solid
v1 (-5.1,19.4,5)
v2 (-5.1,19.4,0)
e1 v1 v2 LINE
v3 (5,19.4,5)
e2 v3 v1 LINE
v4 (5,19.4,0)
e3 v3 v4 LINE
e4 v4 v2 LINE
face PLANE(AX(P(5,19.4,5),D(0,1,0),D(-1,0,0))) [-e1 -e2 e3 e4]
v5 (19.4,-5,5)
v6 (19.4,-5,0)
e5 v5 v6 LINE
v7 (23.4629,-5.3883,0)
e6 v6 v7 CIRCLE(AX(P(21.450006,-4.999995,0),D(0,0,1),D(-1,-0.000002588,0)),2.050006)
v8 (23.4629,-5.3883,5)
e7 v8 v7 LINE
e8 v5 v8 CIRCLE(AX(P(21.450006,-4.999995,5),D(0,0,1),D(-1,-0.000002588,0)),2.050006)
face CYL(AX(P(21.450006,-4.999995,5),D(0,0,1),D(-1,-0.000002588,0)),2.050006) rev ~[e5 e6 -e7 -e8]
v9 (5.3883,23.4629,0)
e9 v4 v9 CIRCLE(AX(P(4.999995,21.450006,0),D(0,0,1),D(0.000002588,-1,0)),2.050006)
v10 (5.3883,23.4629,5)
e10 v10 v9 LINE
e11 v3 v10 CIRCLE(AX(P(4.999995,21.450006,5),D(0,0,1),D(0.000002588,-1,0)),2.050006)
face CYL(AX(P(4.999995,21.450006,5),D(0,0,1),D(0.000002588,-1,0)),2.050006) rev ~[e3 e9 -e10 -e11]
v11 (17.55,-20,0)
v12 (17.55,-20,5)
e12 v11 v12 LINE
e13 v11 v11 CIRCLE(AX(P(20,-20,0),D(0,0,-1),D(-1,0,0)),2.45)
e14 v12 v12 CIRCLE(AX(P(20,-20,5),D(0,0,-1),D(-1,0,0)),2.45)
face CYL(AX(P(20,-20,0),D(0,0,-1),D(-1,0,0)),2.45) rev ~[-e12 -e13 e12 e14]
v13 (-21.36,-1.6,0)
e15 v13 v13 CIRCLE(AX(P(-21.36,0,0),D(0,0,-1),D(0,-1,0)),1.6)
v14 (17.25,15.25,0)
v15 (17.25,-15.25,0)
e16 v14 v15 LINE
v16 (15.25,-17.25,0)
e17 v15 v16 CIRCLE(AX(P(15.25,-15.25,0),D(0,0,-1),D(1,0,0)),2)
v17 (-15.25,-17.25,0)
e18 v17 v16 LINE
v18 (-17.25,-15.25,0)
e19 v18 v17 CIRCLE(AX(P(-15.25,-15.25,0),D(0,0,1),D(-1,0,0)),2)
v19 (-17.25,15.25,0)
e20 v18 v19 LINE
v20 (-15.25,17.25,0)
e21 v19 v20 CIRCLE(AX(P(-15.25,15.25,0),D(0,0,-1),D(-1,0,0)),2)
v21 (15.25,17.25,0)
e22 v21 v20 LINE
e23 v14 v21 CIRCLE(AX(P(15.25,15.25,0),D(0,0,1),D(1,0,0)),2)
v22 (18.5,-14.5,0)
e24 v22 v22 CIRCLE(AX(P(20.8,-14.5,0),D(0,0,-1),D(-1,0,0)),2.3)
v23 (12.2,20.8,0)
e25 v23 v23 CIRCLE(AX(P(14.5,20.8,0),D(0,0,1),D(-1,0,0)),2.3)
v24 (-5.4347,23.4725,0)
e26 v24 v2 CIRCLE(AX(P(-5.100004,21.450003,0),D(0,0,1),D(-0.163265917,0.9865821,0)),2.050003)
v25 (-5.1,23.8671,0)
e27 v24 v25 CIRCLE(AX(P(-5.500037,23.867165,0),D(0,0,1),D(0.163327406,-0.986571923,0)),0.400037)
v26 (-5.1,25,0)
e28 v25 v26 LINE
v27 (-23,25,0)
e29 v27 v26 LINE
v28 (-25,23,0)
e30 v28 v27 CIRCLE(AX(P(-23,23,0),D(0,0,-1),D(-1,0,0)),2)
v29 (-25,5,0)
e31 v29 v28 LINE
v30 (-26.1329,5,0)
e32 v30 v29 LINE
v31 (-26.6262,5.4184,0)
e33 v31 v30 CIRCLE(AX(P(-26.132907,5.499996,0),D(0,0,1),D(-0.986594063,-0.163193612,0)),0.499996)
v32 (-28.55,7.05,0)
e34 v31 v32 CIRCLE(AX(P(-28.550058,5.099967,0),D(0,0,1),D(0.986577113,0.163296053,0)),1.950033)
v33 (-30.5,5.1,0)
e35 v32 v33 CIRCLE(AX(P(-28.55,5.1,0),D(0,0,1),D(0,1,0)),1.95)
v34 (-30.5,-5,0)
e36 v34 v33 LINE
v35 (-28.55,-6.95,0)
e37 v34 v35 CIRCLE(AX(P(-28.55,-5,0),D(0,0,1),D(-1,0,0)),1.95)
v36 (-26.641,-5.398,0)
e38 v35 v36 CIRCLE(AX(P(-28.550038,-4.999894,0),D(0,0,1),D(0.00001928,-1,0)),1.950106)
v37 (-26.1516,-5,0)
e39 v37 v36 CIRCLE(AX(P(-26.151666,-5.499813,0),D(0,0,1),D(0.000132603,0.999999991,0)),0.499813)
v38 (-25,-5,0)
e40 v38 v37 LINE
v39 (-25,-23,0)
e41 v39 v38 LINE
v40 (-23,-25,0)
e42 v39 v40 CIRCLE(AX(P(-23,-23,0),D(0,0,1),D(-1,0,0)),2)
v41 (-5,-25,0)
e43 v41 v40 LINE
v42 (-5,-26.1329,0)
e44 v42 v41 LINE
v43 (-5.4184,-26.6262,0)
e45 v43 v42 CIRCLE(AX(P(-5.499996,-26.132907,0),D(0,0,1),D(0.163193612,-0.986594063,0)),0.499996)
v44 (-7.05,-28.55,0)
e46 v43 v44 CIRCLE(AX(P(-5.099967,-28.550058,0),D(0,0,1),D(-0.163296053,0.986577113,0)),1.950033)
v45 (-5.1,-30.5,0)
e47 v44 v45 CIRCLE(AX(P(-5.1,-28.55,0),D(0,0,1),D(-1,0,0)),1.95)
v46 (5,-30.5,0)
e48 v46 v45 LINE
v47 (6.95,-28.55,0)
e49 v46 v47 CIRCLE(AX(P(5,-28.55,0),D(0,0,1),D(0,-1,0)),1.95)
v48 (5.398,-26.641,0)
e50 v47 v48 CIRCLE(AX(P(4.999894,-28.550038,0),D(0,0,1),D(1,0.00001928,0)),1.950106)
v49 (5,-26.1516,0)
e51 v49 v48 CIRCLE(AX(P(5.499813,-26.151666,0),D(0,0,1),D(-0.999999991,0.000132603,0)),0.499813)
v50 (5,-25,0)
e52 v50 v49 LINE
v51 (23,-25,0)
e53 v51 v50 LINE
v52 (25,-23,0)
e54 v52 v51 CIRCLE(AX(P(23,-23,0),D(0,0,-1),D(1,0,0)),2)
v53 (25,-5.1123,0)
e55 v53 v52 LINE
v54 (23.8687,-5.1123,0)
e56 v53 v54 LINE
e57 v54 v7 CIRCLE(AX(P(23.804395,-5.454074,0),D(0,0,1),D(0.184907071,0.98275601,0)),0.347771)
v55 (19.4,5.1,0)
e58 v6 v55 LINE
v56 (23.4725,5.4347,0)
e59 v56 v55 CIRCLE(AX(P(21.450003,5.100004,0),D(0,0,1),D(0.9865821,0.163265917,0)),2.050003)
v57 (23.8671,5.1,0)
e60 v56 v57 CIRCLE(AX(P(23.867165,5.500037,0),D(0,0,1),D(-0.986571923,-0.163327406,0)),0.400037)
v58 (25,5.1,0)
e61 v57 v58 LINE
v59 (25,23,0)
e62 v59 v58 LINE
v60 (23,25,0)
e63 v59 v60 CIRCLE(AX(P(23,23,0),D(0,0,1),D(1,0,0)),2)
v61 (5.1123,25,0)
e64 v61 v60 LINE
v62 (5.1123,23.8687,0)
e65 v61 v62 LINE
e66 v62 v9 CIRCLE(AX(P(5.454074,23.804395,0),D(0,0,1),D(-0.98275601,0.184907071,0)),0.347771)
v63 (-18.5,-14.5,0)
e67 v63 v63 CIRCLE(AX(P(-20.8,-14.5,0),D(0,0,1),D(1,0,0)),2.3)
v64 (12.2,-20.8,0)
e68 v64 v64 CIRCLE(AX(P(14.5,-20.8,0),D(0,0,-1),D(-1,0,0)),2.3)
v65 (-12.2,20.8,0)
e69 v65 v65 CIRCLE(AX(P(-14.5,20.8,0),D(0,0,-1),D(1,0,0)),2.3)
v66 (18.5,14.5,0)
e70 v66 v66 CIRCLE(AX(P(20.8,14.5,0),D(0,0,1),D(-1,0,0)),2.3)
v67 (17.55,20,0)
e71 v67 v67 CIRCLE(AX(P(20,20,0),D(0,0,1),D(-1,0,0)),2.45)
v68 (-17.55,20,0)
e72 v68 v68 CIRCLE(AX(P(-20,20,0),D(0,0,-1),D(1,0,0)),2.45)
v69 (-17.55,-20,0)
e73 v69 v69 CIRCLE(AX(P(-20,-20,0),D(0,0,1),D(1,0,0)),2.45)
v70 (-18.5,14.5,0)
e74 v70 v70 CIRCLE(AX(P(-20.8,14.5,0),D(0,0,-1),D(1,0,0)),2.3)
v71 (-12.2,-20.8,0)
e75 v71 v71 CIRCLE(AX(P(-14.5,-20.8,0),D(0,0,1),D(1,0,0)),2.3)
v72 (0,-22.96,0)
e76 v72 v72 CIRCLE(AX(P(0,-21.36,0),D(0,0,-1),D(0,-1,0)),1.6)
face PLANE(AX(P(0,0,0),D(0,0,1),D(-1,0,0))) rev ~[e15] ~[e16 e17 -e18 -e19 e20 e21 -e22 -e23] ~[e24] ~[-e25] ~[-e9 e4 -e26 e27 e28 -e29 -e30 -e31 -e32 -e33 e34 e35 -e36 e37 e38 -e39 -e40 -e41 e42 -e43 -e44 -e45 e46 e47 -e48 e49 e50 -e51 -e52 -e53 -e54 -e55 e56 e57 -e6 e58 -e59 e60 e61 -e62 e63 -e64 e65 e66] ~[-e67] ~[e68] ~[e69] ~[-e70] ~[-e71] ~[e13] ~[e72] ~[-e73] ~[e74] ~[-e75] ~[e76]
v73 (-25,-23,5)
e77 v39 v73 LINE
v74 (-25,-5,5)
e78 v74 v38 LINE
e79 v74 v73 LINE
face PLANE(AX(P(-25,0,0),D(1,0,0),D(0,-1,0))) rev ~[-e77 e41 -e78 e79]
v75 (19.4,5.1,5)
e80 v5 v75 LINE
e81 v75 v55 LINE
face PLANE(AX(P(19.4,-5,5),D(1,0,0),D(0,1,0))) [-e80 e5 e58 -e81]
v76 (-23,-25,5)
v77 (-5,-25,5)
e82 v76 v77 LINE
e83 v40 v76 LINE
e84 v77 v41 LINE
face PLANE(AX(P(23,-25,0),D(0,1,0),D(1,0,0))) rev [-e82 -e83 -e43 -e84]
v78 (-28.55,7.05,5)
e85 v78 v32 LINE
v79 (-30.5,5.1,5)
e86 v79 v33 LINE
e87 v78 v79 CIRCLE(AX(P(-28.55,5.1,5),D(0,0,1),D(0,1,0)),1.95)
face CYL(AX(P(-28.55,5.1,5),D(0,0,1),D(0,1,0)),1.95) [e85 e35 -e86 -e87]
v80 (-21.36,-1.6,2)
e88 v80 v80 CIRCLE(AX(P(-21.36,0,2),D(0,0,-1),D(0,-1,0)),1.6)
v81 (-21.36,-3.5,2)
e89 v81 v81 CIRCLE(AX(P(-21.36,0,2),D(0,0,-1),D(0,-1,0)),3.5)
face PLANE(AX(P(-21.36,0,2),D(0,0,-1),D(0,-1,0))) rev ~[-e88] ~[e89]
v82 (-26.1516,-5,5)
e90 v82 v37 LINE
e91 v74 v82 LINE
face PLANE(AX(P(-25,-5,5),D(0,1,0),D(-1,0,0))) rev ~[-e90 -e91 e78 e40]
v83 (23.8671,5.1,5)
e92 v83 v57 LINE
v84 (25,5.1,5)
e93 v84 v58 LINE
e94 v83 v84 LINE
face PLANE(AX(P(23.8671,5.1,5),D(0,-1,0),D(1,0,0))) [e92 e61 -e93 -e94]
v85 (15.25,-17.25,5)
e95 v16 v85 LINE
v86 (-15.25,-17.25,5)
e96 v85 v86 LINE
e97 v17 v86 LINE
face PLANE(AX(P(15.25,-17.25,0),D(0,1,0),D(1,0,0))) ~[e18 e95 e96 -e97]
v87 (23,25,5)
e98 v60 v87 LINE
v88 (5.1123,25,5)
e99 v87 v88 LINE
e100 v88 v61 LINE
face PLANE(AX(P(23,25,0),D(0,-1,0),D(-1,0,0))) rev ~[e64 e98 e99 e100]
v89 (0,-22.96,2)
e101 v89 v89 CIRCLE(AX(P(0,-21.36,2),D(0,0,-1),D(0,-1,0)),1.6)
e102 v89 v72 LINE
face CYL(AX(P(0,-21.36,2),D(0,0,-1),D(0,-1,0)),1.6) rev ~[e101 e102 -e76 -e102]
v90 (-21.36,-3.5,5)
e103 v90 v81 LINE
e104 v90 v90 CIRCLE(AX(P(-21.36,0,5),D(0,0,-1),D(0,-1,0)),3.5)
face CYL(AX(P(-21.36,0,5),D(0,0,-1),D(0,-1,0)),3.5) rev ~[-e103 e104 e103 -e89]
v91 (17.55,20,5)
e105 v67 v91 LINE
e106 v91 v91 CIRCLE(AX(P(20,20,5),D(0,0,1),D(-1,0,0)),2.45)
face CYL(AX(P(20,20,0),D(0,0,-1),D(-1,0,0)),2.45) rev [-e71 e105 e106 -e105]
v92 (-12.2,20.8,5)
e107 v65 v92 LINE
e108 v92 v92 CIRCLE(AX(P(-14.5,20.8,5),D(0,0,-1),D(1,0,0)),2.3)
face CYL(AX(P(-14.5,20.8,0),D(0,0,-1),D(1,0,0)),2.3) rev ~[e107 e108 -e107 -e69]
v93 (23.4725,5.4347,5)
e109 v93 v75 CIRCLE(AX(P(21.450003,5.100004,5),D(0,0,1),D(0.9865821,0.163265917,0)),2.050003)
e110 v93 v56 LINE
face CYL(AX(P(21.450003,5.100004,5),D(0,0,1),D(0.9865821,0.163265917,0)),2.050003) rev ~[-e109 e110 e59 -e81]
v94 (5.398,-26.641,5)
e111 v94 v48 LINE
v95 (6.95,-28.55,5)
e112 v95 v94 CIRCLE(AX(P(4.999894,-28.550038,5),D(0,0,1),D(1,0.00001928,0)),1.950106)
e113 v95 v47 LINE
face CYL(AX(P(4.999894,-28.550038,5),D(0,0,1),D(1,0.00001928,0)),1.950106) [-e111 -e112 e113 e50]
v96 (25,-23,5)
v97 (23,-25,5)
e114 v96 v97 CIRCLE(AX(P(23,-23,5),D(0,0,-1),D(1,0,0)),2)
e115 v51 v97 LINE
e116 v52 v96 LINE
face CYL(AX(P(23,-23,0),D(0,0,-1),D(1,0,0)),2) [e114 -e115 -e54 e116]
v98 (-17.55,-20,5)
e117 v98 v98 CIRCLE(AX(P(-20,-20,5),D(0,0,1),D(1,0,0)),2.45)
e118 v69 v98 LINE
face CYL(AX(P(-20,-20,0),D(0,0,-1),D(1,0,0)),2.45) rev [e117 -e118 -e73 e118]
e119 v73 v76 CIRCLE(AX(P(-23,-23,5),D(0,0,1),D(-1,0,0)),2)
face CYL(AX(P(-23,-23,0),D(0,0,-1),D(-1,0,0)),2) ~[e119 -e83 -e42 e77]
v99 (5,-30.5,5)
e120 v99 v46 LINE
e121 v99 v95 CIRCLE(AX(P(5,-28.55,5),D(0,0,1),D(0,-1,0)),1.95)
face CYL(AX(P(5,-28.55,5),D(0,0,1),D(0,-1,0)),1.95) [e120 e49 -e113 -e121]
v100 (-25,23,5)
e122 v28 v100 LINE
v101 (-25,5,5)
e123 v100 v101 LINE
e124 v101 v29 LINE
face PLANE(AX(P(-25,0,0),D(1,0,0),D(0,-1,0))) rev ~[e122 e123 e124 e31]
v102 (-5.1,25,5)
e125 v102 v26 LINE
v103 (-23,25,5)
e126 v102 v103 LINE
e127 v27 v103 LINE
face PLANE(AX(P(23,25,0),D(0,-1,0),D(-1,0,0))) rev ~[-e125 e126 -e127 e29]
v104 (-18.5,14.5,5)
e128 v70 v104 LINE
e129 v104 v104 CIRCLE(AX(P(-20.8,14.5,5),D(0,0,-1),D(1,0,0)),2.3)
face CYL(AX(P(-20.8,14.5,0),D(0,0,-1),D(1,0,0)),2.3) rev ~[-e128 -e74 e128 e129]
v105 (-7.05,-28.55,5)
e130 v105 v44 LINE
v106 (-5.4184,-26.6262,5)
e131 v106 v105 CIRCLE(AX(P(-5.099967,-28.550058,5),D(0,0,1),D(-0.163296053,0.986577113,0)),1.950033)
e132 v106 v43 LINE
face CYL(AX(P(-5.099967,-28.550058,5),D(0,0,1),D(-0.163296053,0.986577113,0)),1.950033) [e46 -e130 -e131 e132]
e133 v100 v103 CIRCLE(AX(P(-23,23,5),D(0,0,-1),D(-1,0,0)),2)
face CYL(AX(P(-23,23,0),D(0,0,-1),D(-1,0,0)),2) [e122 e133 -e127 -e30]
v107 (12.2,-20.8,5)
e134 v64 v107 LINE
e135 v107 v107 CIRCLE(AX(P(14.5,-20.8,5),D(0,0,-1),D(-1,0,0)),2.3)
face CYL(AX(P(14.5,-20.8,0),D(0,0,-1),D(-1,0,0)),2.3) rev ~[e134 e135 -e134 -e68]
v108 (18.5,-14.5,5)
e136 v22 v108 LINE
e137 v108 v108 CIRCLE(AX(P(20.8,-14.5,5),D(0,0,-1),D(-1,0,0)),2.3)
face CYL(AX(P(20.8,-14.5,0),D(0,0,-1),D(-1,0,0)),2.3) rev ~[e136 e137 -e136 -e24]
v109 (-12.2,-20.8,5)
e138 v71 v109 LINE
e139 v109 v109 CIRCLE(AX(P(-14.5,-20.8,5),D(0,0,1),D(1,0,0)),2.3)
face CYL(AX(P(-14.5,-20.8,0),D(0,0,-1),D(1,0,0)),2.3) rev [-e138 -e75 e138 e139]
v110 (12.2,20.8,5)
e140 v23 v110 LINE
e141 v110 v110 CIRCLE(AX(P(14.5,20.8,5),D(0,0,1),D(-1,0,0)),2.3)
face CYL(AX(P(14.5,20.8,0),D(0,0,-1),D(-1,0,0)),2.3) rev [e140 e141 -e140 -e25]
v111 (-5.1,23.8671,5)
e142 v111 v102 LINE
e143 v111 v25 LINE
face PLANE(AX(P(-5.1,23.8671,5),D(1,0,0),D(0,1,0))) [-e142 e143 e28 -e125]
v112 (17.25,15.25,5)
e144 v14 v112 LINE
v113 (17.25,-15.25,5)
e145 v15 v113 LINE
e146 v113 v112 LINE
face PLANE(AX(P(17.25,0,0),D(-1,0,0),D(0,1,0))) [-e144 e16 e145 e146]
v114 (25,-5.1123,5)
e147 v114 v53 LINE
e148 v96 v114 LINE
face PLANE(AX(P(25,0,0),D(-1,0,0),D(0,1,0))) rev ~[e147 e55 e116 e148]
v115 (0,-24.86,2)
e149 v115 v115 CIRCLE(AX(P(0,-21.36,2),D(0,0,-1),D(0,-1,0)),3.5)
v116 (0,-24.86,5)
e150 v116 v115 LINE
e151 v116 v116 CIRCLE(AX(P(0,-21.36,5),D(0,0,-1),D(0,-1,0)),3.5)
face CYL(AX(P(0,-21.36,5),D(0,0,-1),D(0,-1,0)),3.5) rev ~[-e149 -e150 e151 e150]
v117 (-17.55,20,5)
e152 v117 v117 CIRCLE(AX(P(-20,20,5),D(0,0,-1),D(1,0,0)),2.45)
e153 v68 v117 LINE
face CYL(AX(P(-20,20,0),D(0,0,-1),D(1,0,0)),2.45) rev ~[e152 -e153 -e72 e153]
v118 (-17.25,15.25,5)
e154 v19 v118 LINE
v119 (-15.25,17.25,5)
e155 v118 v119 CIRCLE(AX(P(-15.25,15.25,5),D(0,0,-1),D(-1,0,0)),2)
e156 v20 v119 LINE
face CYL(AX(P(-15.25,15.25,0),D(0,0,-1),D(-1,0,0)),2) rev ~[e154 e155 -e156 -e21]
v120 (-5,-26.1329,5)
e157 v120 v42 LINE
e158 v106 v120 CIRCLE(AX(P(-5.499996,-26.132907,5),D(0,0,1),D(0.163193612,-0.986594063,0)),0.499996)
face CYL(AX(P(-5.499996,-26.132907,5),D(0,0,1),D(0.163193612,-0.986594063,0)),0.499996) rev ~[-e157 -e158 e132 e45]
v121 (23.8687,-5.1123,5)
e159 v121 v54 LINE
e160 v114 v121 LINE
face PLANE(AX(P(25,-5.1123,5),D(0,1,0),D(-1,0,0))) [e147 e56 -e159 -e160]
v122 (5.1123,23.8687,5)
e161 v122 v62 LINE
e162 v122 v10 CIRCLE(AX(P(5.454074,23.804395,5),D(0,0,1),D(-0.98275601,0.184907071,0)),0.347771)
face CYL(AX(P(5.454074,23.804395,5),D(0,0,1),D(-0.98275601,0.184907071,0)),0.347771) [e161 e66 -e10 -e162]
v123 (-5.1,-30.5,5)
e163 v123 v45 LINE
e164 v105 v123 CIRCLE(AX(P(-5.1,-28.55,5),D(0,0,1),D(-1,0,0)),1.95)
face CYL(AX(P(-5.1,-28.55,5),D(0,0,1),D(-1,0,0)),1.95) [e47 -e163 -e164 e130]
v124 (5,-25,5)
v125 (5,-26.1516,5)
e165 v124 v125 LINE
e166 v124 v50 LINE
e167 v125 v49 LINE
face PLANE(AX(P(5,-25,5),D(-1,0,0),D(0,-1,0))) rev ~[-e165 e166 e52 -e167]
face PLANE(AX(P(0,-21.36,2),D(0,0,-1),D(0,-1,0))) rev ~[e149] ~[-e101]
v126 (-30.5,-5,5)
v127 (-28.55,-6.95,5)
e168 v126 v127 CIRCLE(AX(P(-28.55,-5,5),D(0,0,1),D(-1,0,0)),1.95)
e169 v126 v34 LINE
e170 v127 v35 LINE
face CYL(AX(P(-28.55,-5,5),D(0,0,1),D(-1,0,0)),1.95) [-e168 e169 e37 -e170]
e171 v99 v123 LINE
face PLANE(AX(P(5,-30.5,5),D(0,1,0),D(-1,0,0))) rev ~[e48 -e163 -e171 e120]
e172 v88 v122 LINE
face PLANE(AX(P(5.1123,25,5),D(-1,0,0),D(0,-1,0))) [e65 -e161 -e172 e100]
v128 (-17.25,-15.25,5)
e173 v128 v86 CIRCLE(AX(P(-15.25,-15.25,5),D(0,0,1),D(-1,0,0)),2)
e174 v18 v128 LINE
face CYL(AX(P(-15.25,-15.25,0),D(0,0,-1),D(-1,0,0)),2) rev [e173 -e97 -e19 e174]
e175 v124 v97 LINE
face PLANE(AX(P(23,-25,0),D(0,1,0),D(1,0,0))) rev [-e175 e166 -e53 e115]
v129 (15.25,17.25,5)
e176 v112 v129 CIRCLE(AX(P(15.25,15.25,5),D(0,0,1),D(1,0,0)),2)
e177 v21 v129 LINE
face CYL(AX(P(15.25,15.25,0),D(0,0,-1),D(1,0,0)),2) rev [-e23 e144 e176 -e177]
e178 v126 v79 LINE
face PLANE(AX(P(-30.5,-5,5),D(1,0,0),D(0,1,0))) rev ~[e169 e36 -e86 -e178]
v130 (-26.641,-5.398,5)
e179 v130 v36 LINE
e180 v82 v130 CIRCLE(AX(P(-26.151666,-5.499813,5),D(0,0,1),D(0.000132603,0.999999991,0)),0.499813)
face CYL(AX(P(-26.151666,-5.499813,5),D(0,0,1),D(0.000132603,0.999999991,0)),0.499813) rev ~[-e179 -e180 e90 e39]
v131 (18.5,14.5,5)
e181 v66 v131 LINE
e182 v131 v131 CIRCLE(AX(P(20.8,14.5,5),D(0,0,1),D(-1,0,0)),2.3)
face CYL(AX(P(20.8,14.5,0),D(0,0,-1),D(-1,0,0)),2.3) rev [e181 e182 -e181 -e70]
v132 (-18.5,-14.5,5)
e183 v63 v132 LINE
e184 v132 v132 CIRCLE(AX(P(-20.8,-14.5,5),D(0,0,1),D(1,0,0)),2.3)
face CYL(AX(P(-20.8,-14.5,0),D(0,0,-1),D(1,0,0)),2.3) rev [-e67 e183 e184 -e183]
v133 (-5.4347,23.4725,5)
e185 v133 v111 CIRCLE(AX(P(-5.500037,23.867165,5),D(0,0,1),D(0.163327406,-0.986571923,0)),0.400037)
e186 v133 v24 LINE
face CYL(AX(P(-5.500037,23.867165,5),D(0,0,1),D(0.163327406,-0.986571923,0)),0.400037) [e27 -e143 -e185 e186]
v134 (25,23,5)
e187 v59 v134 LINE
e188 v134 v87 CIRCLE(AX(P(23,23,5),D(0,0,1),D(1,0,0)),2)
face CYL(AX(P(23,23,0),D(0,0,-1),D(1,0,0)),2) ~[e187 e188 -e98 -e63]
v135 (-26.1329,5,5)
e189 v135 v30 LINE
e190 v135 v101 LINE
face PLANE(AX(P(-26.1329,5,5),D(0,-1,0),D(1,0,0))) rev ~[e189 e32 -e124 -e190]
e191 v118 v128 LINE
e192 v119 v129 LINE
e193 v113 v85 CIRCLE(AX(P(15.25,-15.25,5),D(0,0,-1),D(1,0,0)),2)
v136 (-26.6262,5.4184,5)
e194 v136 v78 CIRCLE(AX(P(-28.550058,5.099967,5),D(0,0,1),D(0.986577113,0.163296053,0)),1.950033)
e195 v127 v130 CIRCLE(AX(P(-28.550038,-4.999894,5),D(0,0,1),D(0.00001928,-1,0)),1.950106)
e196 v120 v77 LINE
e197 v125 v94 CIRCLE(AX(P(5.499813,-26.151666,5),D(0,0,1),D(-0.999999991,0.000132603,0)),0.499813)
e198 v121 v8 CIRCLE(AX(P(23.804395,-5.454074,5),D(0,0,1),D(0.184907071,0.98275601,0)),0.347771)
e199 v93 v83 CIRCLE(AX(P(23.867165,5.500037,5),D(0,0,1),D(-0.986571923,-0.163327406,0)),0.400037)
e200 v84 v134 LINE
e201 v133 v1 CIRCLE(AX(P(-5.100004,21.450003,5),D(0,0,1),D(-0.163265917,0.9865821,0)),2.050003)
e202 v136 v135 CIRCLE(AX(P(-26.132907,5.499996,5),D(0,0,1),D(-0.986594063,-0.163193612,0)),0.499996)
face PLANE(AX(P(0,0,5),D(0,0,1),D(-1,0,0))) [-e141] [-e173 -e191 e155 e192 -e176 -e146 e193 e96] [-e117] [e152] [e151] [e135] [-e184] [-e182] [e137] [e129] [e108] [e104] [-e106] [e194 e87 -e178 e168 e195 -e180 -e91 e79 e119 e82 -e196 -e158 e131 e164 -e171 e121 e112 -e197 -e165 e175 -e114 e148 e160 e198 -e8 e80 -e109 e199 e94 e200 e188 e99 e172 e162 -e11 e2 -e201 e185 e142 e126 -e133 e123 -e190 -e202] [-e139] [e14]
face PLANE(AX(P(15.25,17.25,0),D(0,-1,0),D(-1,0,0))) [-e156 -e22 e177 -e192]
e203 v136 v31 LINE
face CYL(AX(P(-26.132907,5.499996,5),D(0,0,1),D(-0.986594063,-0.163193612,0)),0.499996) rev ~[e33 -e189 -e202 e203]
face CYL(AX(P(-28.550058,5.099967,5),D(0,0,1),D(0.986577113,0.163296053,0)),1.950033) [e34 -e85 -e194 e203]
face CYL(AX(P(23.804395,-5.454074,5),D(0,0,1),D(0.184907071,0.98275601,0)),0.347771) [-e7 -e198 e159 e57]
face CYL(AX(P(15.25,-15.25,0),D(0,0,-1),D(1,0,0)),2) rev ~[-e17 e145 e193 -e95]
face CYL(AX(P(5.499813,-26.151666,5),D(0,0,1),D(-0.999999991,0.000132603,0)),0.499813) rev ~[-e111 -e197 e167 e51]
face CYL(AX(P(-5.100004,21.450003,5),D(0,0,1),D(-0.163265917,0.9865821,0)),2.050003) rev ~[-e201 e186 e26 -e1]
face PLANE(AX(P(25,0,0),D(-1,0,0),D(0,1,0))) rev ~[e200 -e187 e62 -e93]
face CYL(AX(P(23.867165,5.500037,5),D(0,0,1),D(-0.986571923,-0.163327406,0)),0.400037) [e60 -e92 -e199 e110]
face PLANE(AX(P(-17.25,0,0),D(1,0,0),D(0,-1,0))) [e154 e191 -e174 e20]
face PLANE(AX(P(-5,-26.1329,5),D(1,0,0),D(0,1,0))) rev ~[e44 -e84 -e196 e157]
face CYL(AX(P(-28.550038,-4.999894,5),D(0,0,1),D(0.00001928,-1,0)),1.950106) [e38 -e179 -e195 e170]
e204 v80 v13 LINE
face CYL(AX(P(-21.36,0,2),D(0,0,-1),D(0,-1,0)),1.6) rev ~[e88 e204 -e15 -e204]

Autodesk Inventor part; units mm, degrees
ref_plane "YZ Plane" through (0, 0, 0) normal (1, 0, 0) x (0, 1, 0)
ref_plane "XZ Plane" through (0, 0, 0) normal (0, 1, 0) x (-1, 0, 0)
ref_plane "XY Plane" through (0, 0, 0) normal (0, 0, 1) x (1, 0, 0)
sketch "Skizze1" plane through (0, 0, 0) normal (0, 0, 1) x (1, 0, 0)
  line L0 (-17.25, 0) -> (-25, 0)
  line L1 (-25, 0) -> (-25, -23)
  line L2 (-23, -25) -> (0, -25)
  line L3 (0, -25) -> (0, -17.25)
  line L4 (-17.25, 0) -> (-17.25, -15.25)
  line L5 (-15.25, -17.25) -> (0, -17.25)
  arc A0 (-25, -23) -> (-23, -25) centre (-23, -23) ccw
  circle A1 centre (-20, -20) radius 2.45
  circle A2 centre (-20.8, -14.5) radius 2.3
  circle A3 centre (-14.5, -20.8) radius 2.3
  arc A4 (-17.25, -15.25) -> (-15.25, -17.25) centre (-15.25, -15.25) ccw
  circle A5 centre (-20, -20) radius 2.45
  circle A6 centre (-14.5, -20.8) radius 2.3
  circle A7 centre (-20.8, -14.5) radius 2.3
  line L6 (-41.8983, 0) -> (36.633, 0) construction
  line L7 (0, -35.5799) -> (0, 35.5799) construction
  point P0 (-25, -25)
  point P1 (-17.25, -17.25)
  dimension "d278" = 25
  dimension "d279" = 25
  dimension "d2" = 7.75
  dimension "d281" = 7.75
  dimension "d282" = 2
  dimension "d283" = 4.9
  dimension "d284" = 20
  dimension "d4" = 20
  dimension "d286" = 4.6
  dimension "d_hole" = 4.6
  dimension "d290" = 20.8
  dimension "d" = 20.8
  dimension "d292" = 2
  dimension "d313" = 6.3
  dimension "d314" = 6.3
  dimension "d330" = 0
  dimension "d331" = 0
  dimension "d332" = 0
extrude "Extrusion1" add sketch "Skizze1" along normal blind 5
mirror "Mirror6" about plane through (-17.25, 0, 0) normal (0, 1, 0) of "Extrusion1"
mirror "Mirror7" about plane through (0, -25, 0) normal (1, 0, 0) of "Extrusion1", "Mirror6"
sketch "Sketch26" plane through (0, 0, 5) normal (0, 0, 1) x (1, 0, 0)
  line L0 (23, 25) -> (-23, 25) projected
  arc A0 (-23, 25) -> (-25, 23) centre (-23, 23) ccw projected
  line L1 (-25, -23) -> (-25, 23) projected
  arc A1 (-25, -23) -> (-23, -25) centre (-23, -23) ccw projected
  line L2 (-23, -25) -> (23, -25) projected
  arc A2 (23, -25) -> (25, -23) centre (23, -23) ccw projected
  line L3 (25, 23) -> (25, -23) projected
  arc A3 (25, 23) -> (23, 25) centre (23, 23) ccw projected
  line L4 (15.25, 17.25) -> (-15.25, 17.25) projected
  arc A4 (17.25, 15.25) -> (15.25, 17.25) centre (15.25, 15.25) ccw projected
  line L5 (17.25, 15.25) -> (17.25, -15.25) projected
  arc A5 (15.25, -17.25) -> (17.25, -15.25) centre (15.25, -15.25) ccw projected
  line L6 (-15.25, -17.25) -> (15.25, -17.25) projected
  arc A6 (-17.25, -15.25) -> (-15.25, -17.25) centre (-15.25, -15.25) ccw projected
  line L7 (-17.25, -15.25) -> (-17.25, 15.25) projected
  arc A7 (-15.25, 17.25) -> (-17.25, 15.25) centre (-15.25, 15.25) ccw projected
  line L8 (-25, -23) -> (-25, 23) projected
  line L9 (-28.55, -6.95) -> (-28.55, -6.95)
  line L10 (-30.5, -5) -> (-30.5, 5.1)
  line L11 (-28.55, 7.05) -> (-28.55, 7.05)
  line L12 (-25, 7) -> (-25, -7)
  line L13 (-26.1329, 5) -> (-25, 5)
  line L14 (-25, 5) -> (-25, -5)
  line L15 (-25, -5) -> (-26.1516, -5)
  line L16 (-26.5, -5) -> (-25, 5) construction
  line L17 (-26.5, 5) -> (-25, -5) construction
  arc A8 (-30.5, -5) -> (-28.55, -6.95) centre (-28.55, -5) ccw
  arc A9 (-28.55, -6.95) -> (-26.641, -5.398) centre (-28.55, -5) ccw
  arc A10 (-28.55, 7.05) -> (-30.5, 5.1) centre (-28.55, 5.1) ccw
  arc A11 (-26.6262, 5.4184) -> (-28.55, 7.05) centre (-28.55, 5.1) ccw
  arc A12 (-26.1516, -5) -> (-26.641, -5.398) centre (-26.1516, -5.5) ccw
  arc A13 (-26.6262, 5.4184) -> (-26.1329, 5) centre (-26.1329, 5.5) ccw
  point P0 (0, 0)
  point P1 (-25.75, 0)
  point P2 (-25, 0)
  dimension "d293" = 5.5
  dimension "d294" = 14
  dimension "d296" = 10
  dimension "d297" = 1.5
  dimension "d300" = 1.95
  dimension "d301" = 0.5
  dimension "d357" = 5
extrude "Extrusion13" add sketch "Sketch26" against normal up to surface (5 mm away) contours L1 L15 A12 A9 A8 L10 A10 A11 A13 L13
sketch "Sketch28" plane through (0, 0, 5) normal (0, 0, 1) x (1, 0, 0)
  line L0 (-41.9326, 0) -> (36.8388, 0) construction
  line L1 (23, 25) -> (-23, 25) projected
  arc A0 (-23, 25) -> (-25, 23) centre (-23, 23) ccw projected
  line L2 (-25, 5) -> (-25, 23) projected
  line L3 (-26.1329, 5) -> (-25, 5) projected
  arc A1 (-26.6262, 5.4184) -> (-26.1329, 5) centre (-26.1329, 5.5) ccw projected
  arc A2 (-26.6262, 5.4184) -> (-30.5, 5.1) centre (-28.55, 5.1) ccw projected
  line L4 (-30.5, -5) -> (-30.5, 5.1) projected
  arc A3 (-30.5, -5) -> (-26.641, -5.398) centre (-28.55, -5) ccw projected
  arc A4 (-26.1516, -5) -> (-26.641, -5.398) centre (-26.1516, -5.5) ccw projected
  line L5 (-25, -5) -> (-26.1516, -5) projected
  line L6 (-25, -23) -> (-25, -5) projected
  arc A5 (-25, -23) -> (-23, -25) centre (-23, -23) ccw projected
  line L7 (-23, -25) -> (23, -25) projected
  arc A6 (23, -25) -> (25, -23) centre (23, -23) ccw projected
  line L8 (25, 23) -> (25, -23) projected
  arc A7 (25, 23) -> (23, 25) centre (23, 23) ccw projected
  circle A8 centre (20, 20) radius 2.45 projected
  circle A9 centre (14.5, 20.8) radius 2.3 projected
  circle A10 centre (20.8, 14.5) radius 2.3 projected
  circle A11 centre (20, -20) radius 2.45 projected
  circle A12 centre (14.5, -20.8) radius 2.3 projected
  circle A13 centre (20.8, -14.5) radius 2.3 projected
  circle A14 centre (-20, 20) radius 2.45 projected
  circle A15 centre (-14.5, 20.8) radius 2.3 projected
  circle A16 centre (-20.8, 14.5) radius 2.3 projected
  circle A17 centre (-20.8, -14.5) radius 2.3 projected
  circle A18 centre (-14.5, -20.8) radius 2.3 projected
  circle A19 centre (-20, -20) radius 2.45 projected
  line L9 (15.25, 17.25) -> (-15.25, 17.25) projected
  arc A20 (17.25, 15.25) -> (15.25, 17.25) centre (15.25, 15.25) ccw projected
  line L10 (17.25, 15.25) -> (17.25, -15.25) projected
  arc A21 (15.25, -17.25) -> (17.25, -15.25) centre (15.25, -15.25) ccw projected
  line L11 (-15.25, -17.25) -> (15.25, -17.25) projected
  arc A22 (-17.25, -15.25) -> (-15.25, -17.25) centre (-15.25, -15.25) ccw projected
  line L12 (-17.25, -15.25) -> (-17.25, 15.25) projected
  arc A23 (-15.25, 17.25) -> (-17.25, 15.25) centre (-15.25, 15.25) ccw projected
  line L13 (-25, 5) -> (-24.4142, 5)
  line L14 (-24.4142, 5) -> (-24.4142, -5)
  line L15 (-24.4142, -5) -> (-25, -5)
  line L16 (-25, -5) -> (-25, 5)
  line L17 (-26.1329, 5) -> (-25, 5) projected
  line L18 (-25, 5) -> (-26.1329, 5)
  line L19 (-30.5, -5) -> (-30.5, 5.1) projected
  line L20 (-30.5, 5.1) -> (-30.5, -5)
  line L21 (-25, -5) -> (-25, -23) projected
  line L22 (-25, -5) -> (-26.1516, -5)
  line L23 (-25, -5) -> (-26.1516, -5) projected
  arc A24 (-26.1516, -5) -> (-26.641, -5.398) centre (-26.1516, -5.5) ccw projected
  arc A25 (-26.1516, -5) -> (-26.641, -5.398) centre (-26.1516, -5.5) ccw
  arc A26 (-30.5, -5) -> (-26.641, -5.398) centre (-28.55, -5) ccw
  arc A27 (-26.6262, 5.4184) -> (-26.1329, 5) centre (-26.1329, 5.5) ccw projected
  arc A28 (-26.6262, 5.4184) -> (-30.5, 5.1) centre (-28.55, 5.1) ccw
  arc A29 (-26.6262, 5.4184) -> (-26.1329, 5) centre (-26.1329, 5.5) ccw
  line L24 (25, 5) -> (25.5858, 5)
  line L25 (25.5858, 5) -> (25.5858, -5)
  line L26 (25.5858, -5) -> (25, -5)
  line L27 (25, -5) -> (25, 5)
  line L28 (25, 5) -> (23.8671, 5)
  line L29 (19.5, 5.1) -> (19.5, -5)
  line L30 (25, -5) -> (23.8484, -5)
  arc A30 (23.8484, -5) -> (23.359, -5.398) centre (23.8484, -5.5) ccw
  arc A31 (19.5, -5) -> (23.359, -5.398) centre (21.45, -5) ccw
  arc A32 (23.3738, 5.4184) -> (19.5, 5.1) centre (21.45, 5.1) ccw
  arc A33 (23.3738, 5.4184) -> (23.8671, 5) centre (23.8671, 5.5) ccw
  line L31 (25, 23) -> (25, -23) projected
  arc A34 (19.4, -5) -> (23.4629, -5.3883) centre (21.45, -5) ccw
  line L32 (19.4, -5) -> (19.4, 5.1)
  arc A35 (23.4725, 5.4347) -> (19.4, 5.1) centre (21.45, 5.1) ccw
  arc A36 (23.4725, 5.4347) -> (23.8671, 5.1) centre (23.8671, 5.5) ccw
  line L33 (23.8671, 5.1) -> (25, 5.1)
  line L34 (25, 5.1) -> (25, -5.1123)
  line L35 (25, -23) -> (25, 23) projected
  arc A37 (23.8687, -5.1123) -> (23.4629, -5.3883) centre (23.8044, -5.4541) ccw
  line L36 (25, -5.1123) -> (23.8687, -5.1123)
  point P0 (25, -5.1123)
  dimension "d358" = 5.5
  dimension "d359" = 0.1
extrude "Extrusion14" cut sketch "Sketch28" against normal blind 10 contours L8 L28 A33 A32 L29 A31 A30 L30 L36 A37 A34 L32 A35 A36 L33 | L8 L30 A30 A31 L29 A32 A33 L28
pattern_circular "Circular Pattern6" count 2 over 90 about axis through (0, 0, 5) along (0, 0, 1) of "Extrusion14", "Extrusion13"
sketch "Sketch29" plane through (0, 0, 5) normal (0, 0, 1) x (1, 0, 0)
  line L0 (-5.1, 25) -> (-23, 25) projected
  arc A0 (-23, 25) -> (-25, 23) centre (-23, 23) ccw projected
  line L1 (-25, 5) -> (-25, 23) projected
  line L2 (-26.1329, 5) -> (-25, 5) projected
  arc A1 (-26.6262, 5.4184) -> (-26.1329, 5) centre (-26.1329, 5.5) ccw projected
  arc A2 (-26.6262, 5.4184) -> (-30.5, 5.1) centre (-28.55, 5.1) ccw projected
  line L3 (-30.5, -5) -> (-30.5, 5.1) projected
  arc A3 (-30.5, -5) -> (-26.641, -5.398) centre (-28.55, -5) ccw projected
  arc A4 (-26.1516, -5) -> (-26.641, -5.398) centre (-26.1516, -5.5) ccw projected
  line L4 (-25, -5) -> (-26.1516, -5) projected
  line L5 (-25, -23) -> (-25, -5) projected
  arc A5 (-25, -23) -> (-23, -25) centre (-23, -23) ccw projected
  line L6 (-23, -25) -> (-5, -25) projected
  line L7 (-5, -26.1329) -> (-5, -25) projected
  arc A6 (-5.4184, -26.6262) -> (-5, -26.1329) centre (-5.5, -26.1329) ccw projected
  arc A7 (-5.4184, -26.6262) -> (-5.1, -30.5) centre (-5.1, -28.55) ccw projected
  line L8 (5, -30.5) -> (-5.1, -30.5) projected
  arc A8 (5, -30.5) -> (5.398, -26.641) centre (5, -28.55) ccw projected
  arc A9 (5, -26.1516) -> (5.398, -26.641) centre (5.5, -26.1516) ccw projected
  line L9 (5, -25) -> (5, -26.1516) projected
  line L10 (5, -25) -> (23, -25) projected
  arc A10 (23, -25) -> (25, -23) centre (23, -23) ccw projected
  line L11 (25, -5.1123) -> (25, -23) projected
  arc A11 (25, 23) -> (23, 25) centre (23, 23) ccw projected
  line L12 (15.25, 17.25) -> (-15.25, 17.25) projected
  arc A12 (17.25, 15.25) -> (15.25, 17.25) centre (15.25, 15.25) ccw projected
  line L13 (17.25, 15.25) -> (17.25, -15.25) projected
  arc A13 (15.25, -17.25) -> (17.25, -15.25) centre (15.25, -15.25) ccw projected
  line L14 (-15.25, -17.25) -> (15.25, -17.25) projected
  arc A14 (-17.25, -15.25) -> (-15.25, -17.25) centre (-15.25, -15.25) ccw projected
  line L15 (-17.25, -15.25) -> (-17.25, 15.25) projected
  arc A15 (-15.25, 17.25) -> (-17.25, 15.25) centre (-15.25, 15.25) ccw projected
  circle A16 centre (-21.36, 0) radius 3.89
  circle A17 centre (0, -21.36) radius 2.9259
  line L16 (-41.8983, 0) -> (36.633, 0) construction
  line L17 (0, -41.8983) -> (0, 36.633) construction
  line L18 (5.1123, 25) -> (5.1123, 23.8687) projected
  arc A18 (5.1123, 23.8687) -> (5.3883, 23.4629) centre (5.4541, 23.8044) ccw projected
  arc A19 (5, 19.4) -> (5.3883, 23.4629) centre (5, 21.45) ccw projected
  line L19 (5, 19.4) -> (-5.1, 19.4) projected
  arc A20 (-5.4347, 23.4725) -> (-5.1, 19.4) centre (-5.1, 21.45) ccw projected
  arc A21 (-5.4347, 23.4725) -> (-5.1, 23.8671) centre (-5.5, 23.8671) ccw projected
  line L20 (-5.1, 23.8671) -> (-5.1, 25) projected
  line L21 (25, -5.1123) -> (23.8687, -5.1123) projected
  arc A22 (23.8687, -5.1123) -> (23.4629, -5.3883) centre (23.8044, -5.4541) ccw projected
  arc A23 (19.4, -5) -> (23.4629, -5.3883) centre (21.45, -5) ccw projected
  line L22 (19.4, -5) -> (19.4, 5.1) projected
  arc A24 (23.4725, 5.4347) -> (19.4, 5.1) centre (21.45, 5.1) ccw projected
  arc A25 (23.4725, 5.4347) -> (23.8671, 5.1) centre (23.8671, 5.5) ccw projected
  line L23 (23.8671, 5.1) -> (25, 5.1) projected
  line L24 (25, 23) -> (25, 5.1) projected
  line L25 (23, 25) -> (5.1123, 25) projected
  point P0 (0, 0)
  dimension "d319" = 7.78
  dimension "d320" = 4.11
  dimension "d322" = 4.11
hole "Hole7" at (-21.36, 0, 5) at (0, -21.36, 5) direction (0, 0, -1) diameter 3.2 end through all counterbore diameter 7 counterbore depth 3
equation "\"d_i\" = 40"
equation "\"d_o\" = 40"
equation "\"d_part\" = 50"
equation "\"d6\" = 0"
equation "\"d7\" = 0"
equation "\"d8\" = 0"
equation "\"d9\" = 0"
equation "\"d13\" = 0"
equation "\"d14\" = 0"
equation "\"d20\" = 0"
equation "\"d21\" = 0"
equation "\"d22\" = 0"
equation "\"d23\" = 0"
equation "\"d24\" = 0"
equation "\"d25\" = 3"
equation "\"d26\" = 0"
equation "\"d27\" = 0"
equation "\"d28\" = 0"
equation "\"d29\" = 0"
equation "\"d30\" = 0"
equation "\"d31\" = 0"
equation "\"d32\" = 0"
equation "\"d33\" = 0"
equation "\"d34\" = 0"
equation "\"d46\" = 0"
equation "\"d47\" = 0"
equation "\"d48\" = 0"
equation "\"d50\" = 0"
equation "\"d51\" = 0"
equation "\"d52\" = 0"
equation "\"d53\" = 0"
equation "\"d54\" = 0"
equation "\"d55\" = 0"
equation "\"d56\" = 0"
equation "\"d57\" = 0"
equation "\"d58\" = 0"
equation "\"d59\" = 0"
equation "\"magnet_offset\" = 0"
equation "\"screw_offset\" = 0"
equation "\"mal_puzzle_offset\" = 0"
equation "\"fem_puzzle_offset\" = 0"
properties part number "10_Base_puzzle_v3"
